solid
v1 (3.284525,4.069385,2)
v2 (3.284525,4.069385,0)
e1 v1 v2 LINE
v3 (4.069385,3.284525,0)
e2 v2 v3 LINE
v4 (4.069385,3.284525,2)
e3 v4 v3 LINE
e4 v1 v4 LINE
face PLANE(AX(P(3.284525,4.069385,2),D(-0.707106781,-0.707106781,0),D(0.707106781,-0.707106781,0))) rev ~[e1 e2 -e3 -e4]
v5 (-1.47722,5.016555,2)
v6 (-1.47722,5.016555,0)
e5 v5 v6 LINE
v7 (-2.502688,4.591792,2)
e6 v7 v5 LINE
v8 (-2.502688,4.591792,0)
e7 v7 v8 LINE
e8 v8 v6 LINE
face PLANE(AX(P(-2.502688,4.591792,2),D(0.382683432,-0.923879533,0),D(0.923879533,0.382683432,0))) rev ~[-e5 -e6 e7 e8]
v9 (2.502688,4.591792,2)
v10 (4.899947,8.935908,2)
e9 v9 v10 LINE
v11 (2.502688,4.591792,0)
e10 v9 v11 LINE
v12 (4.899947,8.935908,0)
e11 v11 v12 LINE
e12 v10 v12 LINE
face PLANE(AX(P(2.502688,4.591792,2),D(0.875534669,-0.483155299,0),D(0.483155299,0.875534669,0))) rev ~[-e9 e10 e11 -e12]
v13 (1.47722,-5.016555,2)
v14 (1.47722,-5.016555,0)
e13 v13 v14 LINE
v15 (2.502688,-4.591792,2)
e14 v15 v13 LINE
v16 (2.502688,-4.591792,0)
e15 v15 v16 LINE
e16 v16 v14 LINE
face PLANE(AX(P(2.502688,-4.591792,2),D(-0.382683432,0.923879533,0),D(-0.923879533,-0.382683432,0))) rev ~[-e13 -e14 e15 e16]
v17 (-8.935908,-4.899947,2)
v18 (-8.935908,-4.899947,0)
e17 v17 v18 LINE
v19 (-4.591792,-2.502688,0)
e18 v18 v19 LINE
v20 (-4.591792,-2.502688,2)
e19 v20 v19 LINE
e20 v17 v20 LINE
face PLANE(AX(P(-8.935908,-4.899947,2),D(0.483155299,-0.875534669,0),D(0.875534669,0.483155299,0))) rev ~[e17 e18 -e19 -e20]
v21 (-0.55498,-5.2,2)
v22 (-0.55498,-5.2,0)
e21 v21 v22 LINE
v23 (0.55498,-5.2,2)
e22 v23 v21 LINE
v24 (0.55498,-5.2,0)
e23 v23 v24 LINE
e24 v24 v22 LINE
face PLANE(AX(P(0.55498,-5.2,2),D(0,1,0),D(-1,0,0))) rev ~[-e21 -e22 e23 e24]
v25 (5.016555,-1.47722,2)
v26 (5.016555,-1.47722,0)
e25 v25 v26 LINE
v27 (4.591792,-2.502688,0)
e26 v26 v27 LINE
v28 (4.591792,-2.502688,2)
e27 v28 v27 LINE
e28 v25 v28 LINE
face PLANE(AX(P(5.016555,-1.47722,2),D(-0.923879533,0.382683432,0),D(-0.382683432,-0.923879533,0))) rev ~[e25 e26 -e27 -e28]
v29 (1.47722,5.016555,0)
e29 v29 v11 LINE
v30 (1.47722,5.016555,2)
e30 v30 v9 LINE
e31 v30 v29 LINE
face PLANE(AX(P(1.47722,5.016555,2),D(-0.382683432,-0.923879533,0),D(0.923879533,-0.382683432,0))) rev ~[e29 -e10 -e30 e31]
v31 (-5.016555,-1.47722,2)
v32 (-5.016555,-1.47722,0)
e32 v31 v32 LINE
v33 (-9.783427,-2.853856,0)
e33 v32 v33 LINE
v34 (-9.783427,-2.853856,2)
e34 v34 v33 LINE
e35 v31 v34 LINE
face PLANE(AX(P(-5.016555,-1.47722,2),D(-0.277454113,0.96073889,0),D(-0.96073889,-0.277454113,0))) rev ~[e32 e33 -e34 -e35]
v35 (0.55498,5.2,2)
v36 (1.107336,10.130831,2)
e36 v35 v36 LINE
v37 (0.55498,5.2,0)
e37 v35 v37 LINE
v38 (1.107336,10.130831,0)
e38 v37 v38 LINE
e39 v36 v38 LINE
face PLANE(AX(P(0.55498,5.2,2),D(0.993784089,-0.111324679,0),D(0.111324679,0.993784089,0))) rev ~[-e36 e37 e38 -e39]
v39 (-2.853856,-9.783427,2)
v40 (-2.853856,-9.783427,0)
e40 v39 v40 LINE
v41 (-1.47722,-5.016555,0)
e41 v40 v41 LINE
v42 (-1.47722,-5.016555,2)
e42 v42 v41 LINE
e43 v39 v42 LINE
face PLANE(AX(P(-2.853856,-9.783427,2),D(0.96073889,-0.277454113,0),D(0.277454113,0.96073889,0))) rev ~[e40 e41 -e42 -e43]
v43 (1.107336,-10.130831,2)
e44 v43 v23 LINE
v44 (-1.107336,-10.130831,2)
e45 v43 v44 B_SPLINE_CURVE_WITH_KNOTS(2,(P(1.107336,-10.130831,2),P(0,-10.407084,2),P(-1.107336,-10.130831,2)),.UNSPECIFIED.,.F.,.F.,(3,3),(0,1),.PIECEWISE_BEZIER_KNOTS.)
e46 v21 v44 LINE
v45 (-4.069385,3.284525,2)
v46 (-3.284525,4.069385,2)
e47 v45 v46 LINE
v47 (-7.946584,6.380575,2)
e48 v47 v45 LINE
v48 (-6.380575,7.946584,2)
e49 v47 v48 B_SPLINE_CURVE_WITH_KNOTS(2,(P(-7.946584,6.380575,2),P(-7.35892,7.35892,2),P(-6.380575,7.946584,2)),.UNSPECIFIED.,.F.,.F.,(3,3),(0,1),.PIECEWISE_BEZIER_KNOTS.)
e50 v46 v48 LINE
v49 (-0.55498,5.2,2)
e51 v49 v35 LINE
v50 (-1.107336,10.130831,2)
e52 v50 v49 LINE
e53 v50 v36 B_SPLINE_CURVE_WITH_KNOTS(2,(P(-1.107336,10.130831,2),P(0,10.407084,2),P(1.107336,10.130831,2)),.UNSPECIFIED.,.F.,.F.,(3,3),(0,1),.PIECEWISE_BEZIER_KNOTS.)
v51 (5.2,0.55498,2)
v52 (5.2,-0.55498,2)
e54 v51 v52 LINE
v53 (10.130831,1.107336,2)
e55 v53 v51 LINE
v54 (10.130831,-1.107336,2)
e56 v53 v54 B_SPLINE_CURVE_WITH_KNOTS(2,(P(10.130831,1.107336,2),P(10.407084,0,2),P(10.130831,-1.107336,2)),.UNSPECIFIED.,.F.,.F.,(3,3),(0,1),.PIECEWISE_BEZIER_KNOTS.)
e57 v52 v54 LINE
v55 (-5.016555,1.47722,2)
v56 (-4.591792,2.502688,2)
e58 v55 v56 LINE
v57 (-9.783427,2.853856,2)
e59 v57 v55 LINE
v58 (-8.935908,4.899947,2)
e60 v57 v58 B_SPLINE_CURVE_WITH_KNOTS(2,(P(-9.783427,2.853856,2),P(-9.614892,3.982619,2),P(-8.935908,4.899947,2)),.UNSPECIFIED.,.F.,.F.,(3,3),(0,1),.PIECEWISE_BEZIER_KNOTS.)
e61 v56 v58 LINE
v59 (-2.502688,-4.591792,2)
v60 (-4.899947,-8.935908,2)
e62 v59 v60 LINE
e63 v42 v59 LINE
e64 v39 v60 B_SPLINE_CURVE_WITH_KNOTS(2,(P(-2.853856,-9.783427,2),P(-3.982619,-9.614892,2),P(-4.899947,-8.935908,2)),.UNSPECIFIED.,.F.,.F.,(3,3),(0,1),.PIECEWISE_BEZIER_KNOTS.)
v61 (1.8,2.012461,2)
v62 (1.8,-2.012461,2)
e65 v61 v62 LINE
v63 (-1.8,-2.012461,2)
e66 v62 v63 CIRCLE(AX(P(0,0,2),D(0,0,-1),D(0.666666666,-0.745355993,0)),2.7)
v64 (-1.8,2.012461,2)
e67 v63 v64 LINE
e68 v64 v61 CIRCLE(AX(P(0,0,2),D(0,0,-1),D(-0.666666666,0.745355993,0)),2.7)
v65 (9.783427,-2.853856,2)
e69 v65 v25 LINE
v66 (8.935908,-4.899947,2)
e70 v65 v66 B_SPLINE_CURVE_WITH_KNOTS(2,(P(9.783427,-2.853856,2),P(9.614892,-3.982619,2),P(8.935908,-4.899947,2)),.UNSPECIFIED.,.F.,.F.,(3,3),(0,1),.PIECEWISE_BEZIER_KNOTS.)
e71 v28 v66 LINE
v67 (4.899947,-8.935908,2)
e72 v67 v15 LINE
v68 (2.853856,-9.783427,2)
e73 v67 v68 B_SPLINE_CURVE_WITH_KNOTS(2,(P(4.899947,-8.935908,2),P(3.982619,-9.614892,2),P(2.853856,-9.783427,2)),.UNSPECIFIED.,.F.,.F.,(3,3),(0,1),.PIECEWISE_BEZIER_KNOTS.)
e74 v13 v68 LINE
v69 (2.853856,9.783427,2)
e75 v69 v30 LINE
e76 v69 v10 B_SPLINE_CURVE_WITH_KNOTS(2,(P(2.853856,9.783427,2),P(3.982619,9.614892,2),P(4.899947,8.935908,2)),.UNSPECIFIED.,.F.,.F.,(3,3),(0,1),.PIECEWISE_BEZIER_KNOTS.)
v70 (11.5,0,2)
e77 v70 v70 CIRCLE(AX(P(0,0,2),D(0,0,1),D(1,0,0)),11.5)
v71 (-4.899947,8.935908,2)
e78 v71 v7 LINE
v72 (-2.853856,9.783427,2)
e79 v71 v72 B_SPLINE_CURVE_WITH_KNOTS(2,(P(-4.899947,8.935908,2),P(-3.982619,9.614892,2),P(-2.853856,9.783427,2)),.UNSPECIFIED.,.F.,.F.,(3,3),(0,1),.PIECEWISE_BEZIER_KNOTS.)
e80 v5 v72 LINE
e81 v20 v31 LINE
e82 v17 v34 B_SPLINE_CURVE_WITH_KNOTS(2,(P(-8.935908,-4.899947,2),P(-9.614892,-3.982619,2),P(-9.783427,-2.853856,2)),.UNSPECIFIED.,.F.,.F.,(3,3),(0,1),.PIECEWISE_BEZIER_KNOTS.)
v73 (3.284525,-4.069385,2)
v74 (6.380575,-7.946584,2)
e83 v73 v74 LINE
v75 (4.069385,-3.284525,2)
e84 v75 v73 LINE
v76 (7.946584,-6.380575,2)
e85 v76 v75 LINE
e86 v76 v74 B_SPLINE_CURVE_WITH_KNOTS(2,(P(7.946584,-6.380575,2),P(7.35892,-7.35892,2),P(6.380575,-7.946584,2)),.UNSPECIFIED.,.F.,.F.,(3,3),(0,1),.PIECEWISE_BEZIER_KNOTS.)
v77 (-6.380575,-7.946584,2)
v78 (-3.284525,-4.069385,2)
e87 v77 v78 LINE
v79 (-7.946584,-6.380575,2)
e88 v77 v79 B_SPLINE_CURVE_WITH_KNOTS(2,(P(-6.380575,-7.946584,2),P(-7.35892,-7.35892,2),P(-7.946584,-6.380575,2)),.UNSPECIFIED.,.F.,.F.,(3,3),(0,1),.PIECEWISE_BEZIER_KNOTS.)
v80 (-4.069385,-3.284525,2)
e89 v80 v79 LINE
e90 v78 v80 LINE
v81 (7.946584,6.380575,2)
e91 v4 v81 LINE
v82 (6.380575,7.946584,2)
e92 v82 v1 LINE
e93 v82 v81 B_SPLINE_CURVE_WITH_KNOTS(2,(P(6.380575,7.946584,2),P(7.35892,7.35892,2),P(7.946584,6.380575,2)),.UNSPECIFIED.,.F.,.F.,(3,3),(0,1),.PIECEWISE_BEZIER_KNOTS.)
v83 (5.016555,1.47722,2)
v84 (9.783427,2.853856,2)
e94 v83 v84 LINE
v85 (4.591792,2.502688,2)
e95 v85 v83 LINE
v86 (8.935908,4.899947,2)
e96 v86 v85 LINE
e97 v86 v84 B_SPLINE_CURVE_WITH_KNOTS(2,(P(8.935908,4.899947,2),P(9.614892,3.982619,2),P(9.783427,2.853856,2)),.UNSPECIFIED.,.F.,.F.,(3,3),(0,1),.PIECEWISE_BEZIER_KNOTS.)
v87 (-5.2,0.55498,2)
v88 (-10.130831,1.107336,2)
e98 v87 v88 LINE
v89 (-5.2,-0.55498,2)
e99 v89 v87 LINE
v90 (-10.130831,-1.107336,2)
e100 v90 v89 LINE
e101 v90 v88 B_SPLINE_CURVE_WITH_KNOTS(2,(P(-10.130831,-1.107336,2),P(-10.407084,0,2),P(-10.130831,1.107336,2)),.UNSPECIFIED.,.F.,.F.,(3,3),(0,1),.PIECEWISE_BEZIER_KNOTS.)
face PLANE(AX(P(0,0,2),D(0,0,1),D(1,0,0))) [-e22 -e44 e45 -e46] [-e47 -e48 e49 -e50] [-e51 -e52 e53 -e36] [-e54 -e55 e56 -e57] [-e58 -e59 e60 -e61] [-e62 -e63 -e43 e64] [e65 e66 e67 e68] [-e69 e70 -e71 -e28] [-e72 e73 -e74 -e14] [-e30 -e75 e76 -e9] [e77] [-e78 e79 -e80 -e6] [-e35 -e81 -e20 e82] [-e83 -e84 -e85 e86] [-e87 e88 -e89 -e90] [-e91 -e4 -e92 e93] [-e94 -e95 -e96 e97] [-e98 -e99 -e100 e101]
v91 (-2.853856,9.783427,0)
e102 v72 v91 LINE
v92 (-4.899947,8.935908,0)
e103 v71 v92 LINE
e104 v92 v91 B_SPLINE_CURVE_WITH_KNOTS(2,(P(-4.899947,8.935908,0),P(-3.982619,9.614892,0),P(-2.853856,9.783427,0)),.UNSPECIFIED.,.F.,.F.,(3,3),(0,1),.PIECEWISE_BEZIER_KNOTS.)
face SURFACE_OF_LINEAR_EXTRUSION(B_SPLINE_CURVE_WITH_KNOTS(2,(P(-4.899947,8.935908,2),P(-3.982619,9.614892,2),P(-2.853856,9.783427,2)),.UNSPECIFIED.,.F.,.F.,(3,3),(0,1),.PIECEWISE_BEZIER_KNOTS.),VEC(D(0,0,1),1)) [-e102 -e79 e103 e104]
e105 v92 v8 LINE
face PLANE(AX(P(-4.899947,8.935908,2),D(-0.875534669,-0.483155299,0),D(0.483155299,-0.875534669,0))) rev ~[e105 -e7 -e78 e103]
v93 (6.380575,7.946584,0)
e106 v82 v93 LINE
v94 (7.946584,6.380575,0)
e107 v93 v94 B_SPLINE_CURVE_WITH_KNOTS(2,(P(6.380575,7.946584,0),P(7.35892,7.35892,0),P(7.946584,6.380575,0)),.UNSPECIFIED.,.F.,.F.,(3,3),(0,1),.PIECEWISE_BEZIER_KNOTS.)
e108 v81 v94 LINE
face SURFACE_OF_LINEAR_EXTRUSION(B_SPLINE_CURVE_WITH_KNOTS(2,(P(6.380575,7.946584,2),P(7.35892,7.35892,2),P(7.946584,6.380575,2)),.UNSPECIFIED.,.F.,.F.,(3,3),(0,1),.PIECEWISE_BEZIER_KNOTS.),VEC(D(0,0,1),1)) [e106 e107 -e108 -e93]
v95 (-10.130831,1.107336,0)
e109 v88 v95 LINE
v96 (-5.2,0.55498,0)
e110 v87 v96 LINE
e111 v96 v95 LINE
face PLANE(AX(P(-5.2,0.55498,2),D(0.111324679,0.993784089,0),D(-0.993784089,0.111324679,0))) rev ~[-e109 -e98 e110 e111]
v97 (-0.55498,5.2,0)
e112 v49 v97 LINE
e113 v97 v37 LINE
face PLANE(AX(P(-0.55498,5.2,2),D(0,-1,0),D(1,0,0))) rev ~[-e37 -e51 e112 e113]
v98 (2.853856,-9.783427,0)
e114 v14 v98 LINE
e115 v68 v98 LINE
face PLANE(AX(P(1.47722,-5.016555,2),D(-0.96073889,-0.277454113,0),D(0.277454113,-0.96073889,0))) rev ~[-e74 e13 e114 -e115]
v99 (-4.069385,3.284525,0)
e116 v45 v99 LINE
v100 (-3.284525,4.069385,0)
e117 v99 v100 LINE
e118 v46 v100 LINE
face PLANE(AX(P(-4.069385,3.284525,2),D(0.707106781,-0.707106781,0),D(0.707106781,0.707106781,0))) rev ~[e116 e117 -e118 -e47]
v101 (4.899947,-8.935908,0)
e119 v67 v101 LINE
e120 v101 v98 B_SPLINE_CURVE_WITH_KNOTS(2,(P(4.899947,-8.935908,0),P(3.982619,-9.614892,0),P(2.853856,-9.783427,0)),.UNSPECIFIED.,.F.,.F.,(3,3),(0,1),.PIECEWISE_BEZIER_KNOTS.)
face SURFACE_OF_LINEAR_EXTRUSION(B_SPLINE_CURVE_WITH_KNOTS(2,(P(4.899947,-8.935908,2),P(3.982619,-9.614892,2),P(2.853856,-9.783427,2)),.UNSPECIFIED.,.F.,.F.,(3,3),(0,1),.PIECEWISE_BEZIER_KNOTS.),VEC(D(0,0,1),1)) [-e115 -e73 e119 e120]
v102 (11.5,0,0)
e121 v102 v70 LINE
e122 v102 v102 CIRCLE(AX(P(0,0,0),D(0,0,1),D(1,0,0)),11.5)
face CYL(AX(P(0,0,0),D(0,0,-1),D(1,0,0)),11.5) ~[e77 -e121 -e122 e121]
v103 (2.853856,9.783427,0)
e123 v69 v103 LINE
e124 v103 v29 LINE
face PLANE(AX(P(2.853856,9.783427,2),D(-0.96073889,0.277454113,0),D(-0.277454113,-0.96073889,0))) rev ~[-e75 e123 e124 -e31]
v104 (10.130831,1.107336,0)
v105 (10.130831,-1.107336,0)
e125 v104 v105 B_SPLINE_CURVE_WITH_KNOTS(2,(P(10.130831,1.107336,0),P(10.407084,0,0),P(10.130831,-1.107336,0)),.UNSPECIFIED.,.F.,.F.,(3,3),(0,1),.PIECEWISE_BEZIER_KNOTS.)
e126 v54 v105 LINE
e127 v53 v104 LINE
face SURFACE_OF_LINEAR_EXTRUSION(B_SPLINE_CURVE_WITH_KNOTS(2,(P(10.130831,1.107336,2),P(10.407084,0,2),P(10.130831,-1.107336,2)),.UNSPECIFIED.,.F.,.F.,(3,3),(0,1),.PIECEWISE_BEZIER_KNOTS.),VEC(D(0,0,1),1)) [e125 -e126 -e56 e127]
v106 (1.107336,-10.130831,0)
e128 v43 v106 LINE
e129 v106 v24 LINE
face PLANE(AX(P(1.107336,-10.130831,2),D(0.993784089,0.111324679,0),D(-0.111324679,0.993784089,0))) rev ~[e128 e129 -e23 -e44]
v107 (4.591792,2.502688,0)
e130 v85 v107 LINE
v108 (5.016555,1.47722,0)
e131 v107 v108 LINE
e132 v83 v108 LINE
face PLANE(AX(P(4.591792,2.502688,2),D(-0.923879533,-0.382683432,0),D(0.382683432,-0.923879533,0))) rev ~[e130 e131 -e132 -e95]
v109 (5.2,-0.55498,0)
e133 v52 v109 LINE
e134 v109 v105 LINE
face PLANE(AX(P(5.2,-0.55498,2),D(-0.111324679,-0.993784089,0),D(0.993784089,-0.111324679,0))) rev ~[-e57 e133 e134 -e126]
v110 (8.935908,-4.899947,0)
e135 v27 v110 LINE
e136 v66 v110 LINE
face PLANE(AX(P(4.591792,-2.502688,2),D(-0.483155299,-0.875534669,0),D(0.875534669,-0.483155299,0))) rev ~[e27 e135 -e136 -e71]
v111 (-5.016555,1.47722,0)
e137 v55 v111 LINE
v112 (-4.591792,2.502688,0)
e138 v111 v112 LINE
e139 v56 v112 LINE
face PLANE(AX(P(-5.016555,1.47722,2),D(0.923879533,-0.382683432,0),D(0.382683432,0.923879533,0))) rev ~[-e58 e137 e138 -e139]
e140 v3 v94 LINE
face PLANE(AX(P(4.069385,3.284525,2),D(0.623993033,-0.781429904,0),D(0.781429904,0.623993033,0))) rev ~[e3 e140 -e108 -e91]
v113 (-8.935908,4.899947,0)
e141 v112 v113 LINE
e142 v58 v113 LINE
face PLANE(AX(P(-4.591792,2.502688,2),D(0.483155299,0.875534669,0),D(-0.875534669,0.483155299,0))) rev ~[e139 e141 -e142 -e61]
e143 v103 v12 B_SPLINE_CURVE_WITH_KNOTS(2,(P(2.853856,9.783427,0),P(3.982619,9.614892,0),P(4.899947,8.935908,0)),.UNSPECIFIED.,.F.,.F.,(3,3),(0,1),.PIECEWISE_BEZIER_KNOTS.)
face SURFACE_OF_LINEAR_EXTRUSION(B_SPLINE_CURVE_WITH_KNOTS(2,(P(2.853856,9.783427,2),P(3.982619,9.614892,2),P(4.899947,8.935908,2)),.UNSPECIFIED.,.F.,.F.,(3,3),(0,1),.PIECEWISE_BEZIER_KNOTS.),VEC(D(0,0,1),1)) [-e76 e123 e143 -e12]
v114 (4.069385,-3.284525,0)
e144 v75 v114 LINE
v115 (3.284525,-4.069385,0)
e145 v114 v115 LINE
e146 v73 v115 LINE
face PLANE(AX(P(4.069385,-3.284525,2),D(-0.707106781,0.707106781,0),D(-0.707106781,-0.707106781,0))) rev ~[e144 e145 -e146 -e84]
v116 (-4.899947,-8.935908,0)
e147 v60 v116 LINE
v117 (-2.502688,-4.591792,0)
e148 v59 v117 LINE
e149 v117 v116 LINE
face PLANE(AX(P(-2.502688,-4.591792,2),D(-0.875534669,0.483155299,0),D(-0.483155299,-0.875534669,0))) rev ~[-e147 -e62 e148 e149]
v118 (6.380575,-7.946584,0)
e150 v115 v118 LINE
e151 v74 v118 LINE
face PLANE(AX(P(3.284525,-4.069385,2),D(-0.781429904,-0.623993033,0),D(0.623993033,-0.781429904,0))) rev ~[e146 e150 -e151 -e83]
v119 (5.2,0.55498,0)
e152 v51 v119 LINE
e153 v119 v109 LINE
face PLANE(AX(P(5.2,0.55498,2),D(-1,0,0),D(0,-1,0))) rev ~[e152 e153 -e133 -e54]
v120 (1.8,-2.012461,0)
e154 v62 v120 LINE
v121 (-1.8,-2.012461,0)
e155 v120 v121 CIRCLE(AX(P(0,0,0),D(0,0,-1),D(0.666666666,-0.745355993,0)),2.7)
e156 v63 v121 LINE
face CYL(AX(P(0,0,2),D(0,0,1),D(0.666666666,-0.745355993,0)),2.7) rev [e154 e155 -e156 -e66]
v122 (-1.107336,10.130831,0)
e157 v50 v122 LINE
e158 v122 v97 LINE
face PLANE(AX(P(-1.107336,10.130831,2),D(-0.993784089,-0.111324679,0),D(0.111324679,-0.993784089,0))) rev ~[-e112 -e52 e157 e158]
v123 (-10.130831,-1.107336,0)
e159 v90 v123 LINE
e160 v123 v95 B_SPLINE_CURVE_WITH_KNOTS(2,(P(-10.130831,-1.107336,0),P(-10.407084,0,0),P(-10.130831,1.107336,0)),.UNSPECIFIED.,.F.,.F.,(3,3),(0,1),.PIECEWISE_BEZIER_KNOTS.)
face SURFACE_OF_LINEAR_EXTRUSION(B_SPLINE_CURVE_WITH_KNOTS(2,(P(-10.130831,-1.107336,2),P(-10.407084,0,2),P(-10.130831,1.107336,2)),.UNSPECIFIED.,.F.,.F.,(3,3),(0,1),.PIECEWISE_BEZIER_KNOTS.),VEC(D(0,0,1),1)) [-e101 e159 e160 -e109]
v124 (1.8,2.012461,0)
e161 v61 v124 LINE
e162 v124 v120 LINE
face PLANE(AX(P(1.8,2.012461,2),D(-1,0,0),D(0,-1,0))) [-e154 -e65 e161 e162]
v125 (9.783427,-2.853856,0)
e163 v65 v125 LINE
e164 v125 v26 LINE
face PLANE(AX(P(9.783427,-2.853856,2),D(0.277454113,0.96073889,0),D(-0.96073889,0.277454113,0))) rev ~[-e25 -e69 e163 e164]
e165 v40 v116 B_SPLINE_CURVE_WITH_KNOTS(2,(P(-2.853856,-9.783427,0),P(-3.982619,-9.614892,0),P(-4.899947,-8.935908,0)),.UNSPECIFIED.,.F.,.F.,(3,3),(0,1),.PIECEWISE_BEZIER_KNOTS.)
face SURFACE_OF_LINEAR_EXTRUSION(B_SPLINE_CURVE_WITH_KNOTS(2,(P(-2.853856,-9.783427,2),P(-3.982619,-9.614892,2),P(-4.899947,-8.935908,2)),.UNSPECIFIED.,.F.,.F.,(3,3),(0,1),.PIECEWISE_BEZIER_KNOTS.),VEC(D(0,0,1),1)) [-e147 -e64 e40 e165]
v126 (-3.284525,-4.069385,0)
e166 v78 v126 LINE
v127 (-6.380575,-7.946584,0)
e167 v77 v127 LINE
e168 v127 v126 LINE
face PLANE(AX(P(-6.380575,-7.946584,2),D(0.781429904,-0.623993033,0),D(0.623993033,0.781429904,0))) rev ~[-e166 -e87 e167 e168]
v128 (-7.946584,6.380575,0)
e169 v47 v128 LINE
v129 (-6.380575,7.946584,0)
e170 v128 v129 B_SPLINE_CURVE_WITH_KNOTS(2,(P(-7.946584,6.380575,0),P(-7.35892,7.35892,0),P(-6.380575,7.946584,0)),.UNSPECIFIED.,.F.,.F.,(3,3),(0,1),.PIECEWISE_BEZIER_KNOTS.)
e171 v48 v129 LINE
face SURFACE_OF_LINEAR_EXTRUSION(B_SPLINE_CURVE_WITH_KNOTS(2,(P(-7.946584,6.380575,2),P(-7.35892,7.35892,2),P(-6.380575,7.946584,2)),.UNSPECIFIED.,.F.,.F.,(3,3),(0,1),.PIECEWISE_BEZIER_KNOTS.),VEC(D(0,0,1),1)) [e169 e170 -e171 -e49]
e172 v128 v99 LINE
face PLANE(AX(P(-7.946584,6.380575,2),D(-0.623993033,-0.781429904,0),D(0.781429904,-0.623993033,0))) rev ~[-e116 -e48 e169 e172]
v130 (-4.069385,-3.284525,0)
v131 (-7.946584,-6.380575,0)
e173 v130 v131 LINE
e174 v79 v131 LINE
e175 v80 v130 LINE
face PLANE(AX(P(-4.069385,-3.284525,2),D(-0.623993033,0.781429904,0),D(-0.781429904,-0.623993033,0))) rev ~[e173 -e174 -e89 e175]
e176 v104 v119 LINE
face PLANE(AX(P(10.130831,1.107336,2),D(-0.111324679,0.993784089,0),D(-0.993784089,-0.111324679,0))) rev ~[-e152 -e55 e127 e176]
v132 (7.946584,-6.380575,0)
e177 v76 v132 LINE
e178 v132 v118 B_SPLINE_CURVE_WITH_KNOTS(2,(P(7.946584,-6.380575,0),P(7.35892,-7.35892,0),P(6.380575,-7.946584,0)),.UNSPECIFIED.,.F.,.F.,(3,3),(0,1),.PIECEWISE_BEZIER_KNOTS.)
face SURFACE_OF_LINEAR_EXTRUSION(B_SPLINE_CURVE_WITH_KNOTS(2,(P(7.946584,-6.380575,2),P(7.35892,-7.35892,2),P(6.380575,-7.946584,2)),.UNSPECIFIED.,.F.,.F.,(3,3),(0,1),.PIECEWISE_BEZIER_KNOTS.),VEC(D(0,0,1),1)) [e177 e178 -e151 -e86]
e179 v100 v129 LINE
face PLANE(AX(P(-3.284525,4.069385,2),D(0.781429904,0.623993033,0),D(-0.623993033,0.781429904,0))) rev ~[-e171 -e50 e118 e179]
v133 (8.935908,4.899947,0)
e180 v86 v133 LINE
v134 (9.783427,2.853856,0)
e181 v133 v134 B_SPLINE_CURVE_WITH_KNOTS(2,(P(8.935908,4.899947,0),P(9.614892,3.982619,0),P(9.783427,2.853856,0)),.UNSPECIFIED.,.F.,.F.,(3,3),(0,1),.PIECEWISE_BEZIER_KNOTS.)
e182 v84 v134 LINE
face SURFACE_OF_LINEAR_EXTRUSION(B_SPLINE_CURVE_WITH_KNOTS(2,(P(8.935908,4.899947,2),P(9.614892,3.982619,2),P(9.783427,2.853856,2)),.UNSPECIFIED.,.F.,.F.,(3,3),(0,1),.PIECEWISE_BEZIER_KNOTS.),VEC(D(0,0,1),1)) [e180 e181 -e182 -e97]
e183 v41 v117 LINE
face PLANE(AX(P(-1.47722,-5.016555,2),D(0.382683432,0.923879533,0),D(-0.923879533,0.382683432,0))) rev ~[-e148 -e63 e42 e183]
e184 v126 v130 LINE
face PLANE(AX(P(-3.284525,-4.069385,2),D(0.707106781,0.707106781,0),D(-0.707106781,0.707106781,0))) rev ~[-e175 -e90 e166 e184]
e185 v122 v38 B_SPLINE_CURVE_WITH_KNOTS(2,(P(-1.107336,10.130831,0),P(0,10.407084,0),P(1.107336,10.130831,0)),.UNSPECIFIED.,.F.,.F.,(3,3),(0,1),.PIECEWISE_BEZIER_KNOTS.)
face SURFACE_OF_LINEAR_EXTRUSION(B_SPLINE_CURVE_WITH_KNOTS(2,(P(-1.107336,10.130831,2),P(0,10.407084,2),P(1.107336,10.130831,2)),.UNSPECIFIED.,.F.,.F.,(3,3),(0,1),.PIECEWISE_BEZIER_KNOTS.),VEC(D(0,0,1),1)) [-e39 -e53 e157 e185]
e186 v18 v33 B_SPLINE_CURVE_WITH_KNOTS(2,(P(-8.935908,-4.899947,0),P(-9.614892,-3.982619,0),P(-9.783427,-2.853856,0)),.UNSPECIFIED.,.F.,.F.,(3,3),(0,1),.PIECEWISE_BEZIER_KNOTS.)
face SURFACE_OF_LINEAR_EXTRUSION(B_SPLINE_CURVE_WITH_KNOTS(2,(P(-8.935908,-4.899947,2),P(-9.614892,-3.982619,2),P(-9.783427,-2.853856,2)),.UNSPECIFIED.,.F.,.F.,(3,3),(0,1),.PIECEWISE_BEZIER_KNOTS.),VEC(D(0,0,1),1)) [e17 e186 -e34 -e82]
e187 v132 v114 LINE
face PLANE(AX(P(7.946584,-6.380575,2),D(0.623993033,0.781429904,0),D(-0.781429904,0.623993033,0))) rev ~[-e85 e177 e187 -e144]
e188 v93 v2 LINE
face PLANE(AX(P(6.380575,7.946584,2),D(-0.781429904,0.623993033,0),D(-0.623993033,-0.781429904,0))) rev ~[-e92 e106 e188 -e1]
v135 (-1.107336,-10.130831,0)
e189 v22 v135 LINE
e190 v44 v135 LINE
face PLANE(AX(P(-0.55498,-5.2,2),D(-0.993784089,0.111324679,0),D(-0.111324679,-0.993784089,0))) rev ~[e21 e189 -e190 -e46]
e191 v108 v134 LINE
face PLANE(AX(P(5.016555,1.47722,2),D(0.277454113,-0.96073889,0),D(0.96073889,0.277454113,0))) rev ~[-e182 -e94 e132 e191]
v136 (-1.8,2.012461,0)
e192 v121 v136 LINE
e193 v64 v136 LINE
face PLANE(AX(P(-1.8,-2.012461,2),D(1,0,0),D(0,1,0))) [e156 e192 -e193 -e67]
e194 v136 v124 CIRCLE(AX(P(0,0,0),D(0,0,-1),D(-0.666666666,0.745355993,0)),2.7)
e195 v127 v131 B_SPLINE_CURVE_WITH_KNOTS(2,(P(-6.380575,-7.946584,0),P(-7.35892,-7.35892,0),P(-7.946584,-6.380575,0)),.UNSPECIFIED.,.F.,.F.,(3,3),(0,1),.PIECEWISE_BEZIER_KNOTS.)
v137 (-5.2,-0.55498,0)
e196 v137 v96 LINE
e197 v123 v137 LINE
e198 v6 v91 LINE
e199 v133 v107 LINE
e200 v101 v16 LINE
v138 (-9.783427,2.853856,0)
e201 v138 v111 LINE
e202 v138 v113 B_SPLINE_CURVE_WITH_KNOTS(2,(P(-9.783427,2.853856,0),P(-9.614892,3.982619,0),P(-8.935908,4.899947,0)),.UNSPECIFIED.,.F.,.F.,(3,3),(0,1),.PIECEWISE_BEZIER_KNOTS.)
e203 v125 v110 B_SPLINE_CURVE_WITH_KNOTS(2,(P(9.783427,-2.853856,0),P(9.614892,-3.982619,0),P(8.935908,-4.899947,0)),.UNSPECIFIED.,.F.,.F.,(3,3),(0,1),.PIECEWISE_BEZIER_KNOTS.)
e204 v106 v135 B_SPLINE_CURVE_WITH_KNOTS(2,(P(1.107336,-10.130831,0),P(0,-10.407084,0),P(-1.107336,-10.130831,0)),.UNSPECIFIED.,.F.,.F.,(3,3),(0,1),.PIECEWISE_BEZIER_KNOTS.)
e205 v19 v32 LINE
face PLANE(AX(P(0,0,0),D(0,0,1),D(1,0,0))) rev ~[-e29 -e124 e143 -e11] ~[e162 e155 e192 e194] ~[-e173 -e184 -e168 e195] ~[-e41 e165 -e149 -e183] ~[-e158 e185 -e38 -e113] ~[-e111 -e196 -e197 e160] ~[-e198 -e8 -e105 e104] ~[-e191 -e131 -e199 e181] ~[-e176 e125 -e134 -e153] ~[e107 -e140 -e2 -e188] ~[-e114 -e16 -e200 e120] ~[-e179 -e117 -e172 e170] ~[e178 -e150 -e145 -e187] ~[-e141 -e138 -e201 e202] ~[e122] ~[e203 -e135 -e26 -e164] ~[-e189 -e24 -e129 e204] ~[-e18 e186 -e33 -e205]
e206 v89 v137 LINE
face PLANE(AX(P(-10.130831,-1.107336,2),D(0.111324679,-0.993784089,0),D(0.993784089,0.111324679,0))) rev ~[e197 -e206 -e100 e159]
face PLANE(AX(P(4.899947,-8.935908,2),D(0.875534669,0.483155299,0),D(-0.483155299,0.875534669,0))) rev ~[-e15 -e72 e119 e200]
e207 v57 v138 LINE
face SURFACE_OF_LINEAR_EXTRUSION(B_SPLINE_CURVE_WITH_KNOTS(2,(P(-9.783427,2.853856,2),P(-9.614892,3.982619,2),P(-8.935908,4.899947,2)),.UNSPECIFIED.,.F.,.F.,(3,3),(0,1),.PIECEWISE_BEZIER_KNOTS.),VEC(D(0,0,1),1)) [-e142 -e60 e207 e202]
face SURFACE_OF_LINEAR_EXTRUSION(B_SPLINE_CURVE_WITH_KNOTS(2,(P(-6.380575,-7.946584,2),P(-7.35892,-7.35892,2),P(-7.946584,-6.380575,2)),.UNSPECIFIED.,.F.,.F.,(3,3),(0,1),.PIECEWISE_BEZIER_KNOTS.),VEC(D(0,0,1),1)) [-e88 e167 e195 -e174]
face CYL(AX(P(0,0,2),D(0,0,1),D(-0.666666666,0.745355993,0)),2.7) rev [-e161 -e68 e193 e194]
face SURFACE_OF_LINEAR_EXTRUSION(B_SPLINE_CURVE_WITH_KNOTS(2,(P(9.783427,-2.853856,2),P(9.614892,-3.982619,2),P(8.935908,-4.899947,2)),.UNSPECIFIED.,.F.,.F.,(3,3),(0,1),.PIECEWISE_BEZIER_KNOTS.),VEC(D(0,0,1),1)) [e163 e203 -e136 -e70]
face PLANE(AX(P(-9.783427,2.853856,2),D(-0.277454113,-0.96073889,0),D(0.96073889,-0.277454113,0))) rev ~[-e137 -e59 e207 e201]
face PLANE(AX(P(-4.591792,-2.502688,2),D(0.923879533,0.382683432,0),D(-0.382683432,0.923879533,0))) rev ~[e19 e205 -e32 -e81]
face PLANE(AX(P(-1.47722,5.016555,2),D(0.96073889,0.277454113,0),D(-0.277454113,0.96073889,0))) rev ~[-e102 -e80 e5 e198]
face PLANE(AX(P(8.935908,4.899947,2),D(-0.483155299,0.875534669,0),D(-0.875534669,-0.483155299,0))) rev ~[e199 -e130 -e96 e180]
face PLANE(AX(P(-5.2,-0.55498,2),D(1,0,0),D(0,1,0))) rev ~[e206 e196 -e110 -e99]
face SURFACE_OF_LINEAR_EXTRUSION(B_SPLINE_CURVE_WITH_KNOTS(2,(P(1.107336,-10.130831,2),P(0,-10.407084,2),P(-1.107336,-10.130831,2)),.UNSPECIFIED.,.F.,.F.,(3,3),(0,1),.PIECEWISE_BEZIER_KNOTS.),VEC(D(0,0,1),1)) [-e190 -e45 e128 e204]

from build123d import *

# Parameters (mm, degrees)
SKETCH1_R           = 11.5
BOSS_EXTRUDE1_DEPTH = 2
CUT_EXTRUDE1_DEPTH  = 2
CUT_EXTRUDE2_DEPTH  = 2


with BuildPart() as part:
    # Sketch1 → Boss-Extrude1 (new body)
    with BuildSketch(Plane.XY):
        Circle(SKETCH1_R)
    extrude(amount=BOSS_EXTRUDE1_DEPTH)

    # Sketch2 → Cut-Extrude1 (cut)
    with BuildSketch(Plane.XY.offset(2)):
        with BuildLine():
            Line((1.8, 2.01246118), (1.8, -2.01246118))
            ThreePointArc((1.8, -2.01246118), (0, -2.7), (-1.8, -2.01246118))
            Line((-1.8, -2.01246118), (-1.8, 2.01246118))
            ThreePointArc((-1.8, 2.01246118), (0, 2.7), (1.8, 2.01246118))
        make_face()
    extrude(amount=-CUT_EXTRUDE1_DEPTH, mode=Mode.SUBTRACT)

    # Sketch3 → Cut-Extrude2 (cut)
    with BuildSketch(Plane.XY.offset(2)):
        with BuildLine():
            Line((-0.554979585, 5.2), (0.554979585, 5.2))
            Line((0.554979585, 5.2), (1.107336195, 10.130831273))
            add(Edge.make_bspline(
                [(-1.107336195, 10.130831273), (0, 10.407084111), (1.107336195, 10.130831273)],
                knots=[0, 0, 0, 1, 1, 1], degree=2))
            Line((-1.107336195, 10.130831273), (-0.554979585, 5.2))
        make_face()
        with BuildLine():
            Line((2.502688127, 4.591792077), (4.89994653, 8.935908445))
            add(Edge.make_bspline(
                [(2.853856038, 9.783426876), (3.982618669, 9.614892003), (4.89994653, 8.935908445)],
                knots=[0, 0, 0, 1, 1, 1], degree=2))
            Line((2.853856038, 9.783426876), (1.477219569, 5.016555061))
            Line((1.477219569, 5.016555061), (2.502688127, 4.591792077))
        make_face()
        with BuildLine():
            Line((4.06938509, 3.284525434), (7.946584425, 6.38057456))
            add(Edge.make_bspline(
                [(6.38057456, 7.946584425), (7.358919747, 7.358919747), (7.946584425, 6.38057456)],
                knots=[0, 0, 0, 1, 1, 1], degree=2))
            Line((6.38057456, 7.946584425), (3.284525434, 4.06938509))
            Line((3.284525434, 4.06938509), (4.06938509, 3.284525434))
        make_face()
        with BuildLine():
            Line((5.016555061, 1.477219569), (9.783426876, 2.853856038))
            add(Edge.make_bspline(
                [(8.935908445, 4.89994653), (9.614892003, 3.982618669), (9.783426876, 2.853856038)],
                knots=[0, 0, 0, 1, 1, 1], degree=2))
            Line((8.935908445, 4.89994653), (4.591792077, 2.502688127))
            Line((4.591792077, 2.502688127), (5.016555061, 1.477219569))
        make_face()
        with BuildLine():
            Line((5.2, -0.554979585), (10.130831273, -1.107336195))
            add(Edge.make_bspline(
                [(10.130831273, 1.107336195), (10.407084111, 0), (10.130831273, -1.107336195)],
                knots=[0, 0, 0, 1, 1, 1], degree=2))
            Line((10.130831273, 1.107336195), (5.2, 0.554979585))
            Line((5.2, 0.554979585), (5.2, -0.554979585))
        make_face()
        with BuildLine():
            Line((4.591792077, -2.502688127), (8.935908445, -4.89994653))
            add(Edge.make_bspline(
                [(9.783426876, -2.853856038), (9.614892003, -3.982618669), (8.935908445, -4.89994653)],
                knots=[0, 0, 0, 1, 1, 1], degree=2))
            Line((9.783426876, -2.853856038), (5.016555061, -1.477219569))
            Line((5.016555061, -1.477219569), (4.591792077, -2.502688127))
        make_face()
        with BuildLine():
            Line((3.284525434, -4.06938509), (6.38057456, -7.946584425))
            add(Edge.make_bspline(
                [(7.946584425, -6.38057456), (7.358919747, -7.358919747), (6.38057456, -7.946584425)],
                knots=[0, 0, 0, 1, 1, 1], degree=2))
            Line((7.946584425, -6.38057456), (4.06938509, -3.284525434))
            Line((4.06938509, -3.284525434), (3.284525434, -4.06938509))
        make_face()
        with BuildLine():
            Line((1.477219569, -5.016555061), (2.853856038, -9.783426876))
            add(Edge.make_bspline(
                [(4.89994653, -8.935908445), (3.982618669, -9.614892003), (2.853856038, -9.783426876)],
                knots=[0, 0, 0, 1, 1, 1], degree=2))
            Line((4.89994653, -8.935908445), (2.502688127, -4.591792077))
            Line((2.502688127, -4.591792077), (1.477219569, -5.016555061))
        make_face()
        with BuildLine():
            Line((-0.554979585, -5.2), (-1.107336195, -10.130831273))
            add(Edge.make_bspline(
                [(1.107336195, -10.130831273), (0, -10.407084111), (-1.107336195, -10.130831273)],
                knots=[0, 0, 0, 1, 1, 1], degree=2))
            Line((1.107336195, -10.130831273), (0.554979585, -5.2))
            Line((0.554979585, -5.2), (-0.554979585, -5.2))
        make_face()
        with BuildLine():
            Line((-2.502688127, -4.591792077), (-4.89994653, -8.935908445))
            add(Edge.make_bspline(
                [(-2.853856038, -9.783426876), (-3.982618669, -9.614892003), (-4.89994653, -8.935908445)],
                knots=[0, 0, 0, 1, 1, 1], degree=2))
            Line((-2.853856038, -9.783426876), (-1.477219569, -5.016555061))
            Line((-1.477219569, -5.016555061), (-2.502688127, -4.591792077))
        make_face()
        with BuildLine():
            Line((-4.06938509, -3.284525434), (-7.946584425, -6.38057456))
            add(Edge.make_bspline(
                [(-6.38057456, -7.946584425), (-7.358919747, -7.358919747), (-7.946584425, -6.38057456)],
                knots=[0, 0, 0, 1, 1, 1], degree=2))
            Line((-6.38057456, -7.946584425), (-3.284525434, -4.06938509))
            Line((-3.284525434, -4.06938509), (-4.06938509, -3.284525434))
        make_face()
        with BuildLine():
            Line((-5.016555061, -1.477219569), (-9.783426876, -2.853856038))
            add(Edge.make_bspline(
                [(-8.935908445, -4.89994653), (-9.614892003, -3.982618669), (-9.783426876, -2.853856038)],
                knots=[0, 0, 0, 1, 1, 1], degree=2))
            Line((-8.935908445, -4.89994653), (-4.591792077, -2.502688127))
            Line((-4.591792077, -2.502688127), (-5.016555061, -1.477219569))
        make_face()
        with BuildLine():
            Line((-5.2, 0.554979585), (-10.130831273, 1.107336195))
            add(Edge.make_bspline(
                [(-10.130831273, -1.107336195), (-10.407084111, 0), (-10.130831273, 1.107336195)],
                knots=[0, 0, 0, 1, 1, 1], degree=2))
            Line((-10.130831273, -1.107336195), (-5.2, -0.554979585))
            Line((-5.2, -0.554979585), (-5.2, 0.554979585))
        make_face()
        with BuildLine():
            Line((-4.591792077, 2.502688127), (-8.935908445, 4.89994653))
            add(Edge.make_bspline(
                [(-9.783426876, 2.853856038), (-9.614892003, 3.982618669), (-8.935908445, 4.89994653)],
                knots=[0, 0, 0, 1, 1, 1], degree=2))
            Line((-9.783426876, 2.853856038), (-5.016555061, 1.477219569))
            Line((-5.016555061, 1.477219569), (-4.591792077, 2.502688127))
        make_face()
        with BuildLine():
            Line((-3.284525434, 4.06938509), (-6.38057456, 7.946584425))
            add(Edge.make_bspline(
                [(-7.946584425, 6.38057456), (-7.358919747, 7.358919747), (-6.38057456, 7.946584425)],
                knots=[0, 0, 0, 1, 1, 1], degree=2))
            Line((-7.946584425, 6.38057456), (-4.06938509, 3.284525434))
            Line((-4.06938509, 3.284525434), (-3.284525434, 4.06938509))
        make_face()
        with BuildLine():
            Line((-1.477219569, 5.016555061), (-2.853856038, 9.783426876))
            add(Edge.make_bspline(
                [(-4.89994653, 8.935908445), (-3.982618669, 9.614892003), (-2.853856038, 9.783426876)],
                knots=[0, 0, 0, 1, 1, 1], degree=2))
            Line((-4.89994653, 8.935908445), (-2.502688127, 4.591792077))
            Line((-2.502688127, 4.591792077), (-1.477219569, 5.016555061))
        make_face()
    extrude(amount=-CUT_EXTRUDE2_DEPTH, mode=Mode.SUBTRACT)


solid = part.part
